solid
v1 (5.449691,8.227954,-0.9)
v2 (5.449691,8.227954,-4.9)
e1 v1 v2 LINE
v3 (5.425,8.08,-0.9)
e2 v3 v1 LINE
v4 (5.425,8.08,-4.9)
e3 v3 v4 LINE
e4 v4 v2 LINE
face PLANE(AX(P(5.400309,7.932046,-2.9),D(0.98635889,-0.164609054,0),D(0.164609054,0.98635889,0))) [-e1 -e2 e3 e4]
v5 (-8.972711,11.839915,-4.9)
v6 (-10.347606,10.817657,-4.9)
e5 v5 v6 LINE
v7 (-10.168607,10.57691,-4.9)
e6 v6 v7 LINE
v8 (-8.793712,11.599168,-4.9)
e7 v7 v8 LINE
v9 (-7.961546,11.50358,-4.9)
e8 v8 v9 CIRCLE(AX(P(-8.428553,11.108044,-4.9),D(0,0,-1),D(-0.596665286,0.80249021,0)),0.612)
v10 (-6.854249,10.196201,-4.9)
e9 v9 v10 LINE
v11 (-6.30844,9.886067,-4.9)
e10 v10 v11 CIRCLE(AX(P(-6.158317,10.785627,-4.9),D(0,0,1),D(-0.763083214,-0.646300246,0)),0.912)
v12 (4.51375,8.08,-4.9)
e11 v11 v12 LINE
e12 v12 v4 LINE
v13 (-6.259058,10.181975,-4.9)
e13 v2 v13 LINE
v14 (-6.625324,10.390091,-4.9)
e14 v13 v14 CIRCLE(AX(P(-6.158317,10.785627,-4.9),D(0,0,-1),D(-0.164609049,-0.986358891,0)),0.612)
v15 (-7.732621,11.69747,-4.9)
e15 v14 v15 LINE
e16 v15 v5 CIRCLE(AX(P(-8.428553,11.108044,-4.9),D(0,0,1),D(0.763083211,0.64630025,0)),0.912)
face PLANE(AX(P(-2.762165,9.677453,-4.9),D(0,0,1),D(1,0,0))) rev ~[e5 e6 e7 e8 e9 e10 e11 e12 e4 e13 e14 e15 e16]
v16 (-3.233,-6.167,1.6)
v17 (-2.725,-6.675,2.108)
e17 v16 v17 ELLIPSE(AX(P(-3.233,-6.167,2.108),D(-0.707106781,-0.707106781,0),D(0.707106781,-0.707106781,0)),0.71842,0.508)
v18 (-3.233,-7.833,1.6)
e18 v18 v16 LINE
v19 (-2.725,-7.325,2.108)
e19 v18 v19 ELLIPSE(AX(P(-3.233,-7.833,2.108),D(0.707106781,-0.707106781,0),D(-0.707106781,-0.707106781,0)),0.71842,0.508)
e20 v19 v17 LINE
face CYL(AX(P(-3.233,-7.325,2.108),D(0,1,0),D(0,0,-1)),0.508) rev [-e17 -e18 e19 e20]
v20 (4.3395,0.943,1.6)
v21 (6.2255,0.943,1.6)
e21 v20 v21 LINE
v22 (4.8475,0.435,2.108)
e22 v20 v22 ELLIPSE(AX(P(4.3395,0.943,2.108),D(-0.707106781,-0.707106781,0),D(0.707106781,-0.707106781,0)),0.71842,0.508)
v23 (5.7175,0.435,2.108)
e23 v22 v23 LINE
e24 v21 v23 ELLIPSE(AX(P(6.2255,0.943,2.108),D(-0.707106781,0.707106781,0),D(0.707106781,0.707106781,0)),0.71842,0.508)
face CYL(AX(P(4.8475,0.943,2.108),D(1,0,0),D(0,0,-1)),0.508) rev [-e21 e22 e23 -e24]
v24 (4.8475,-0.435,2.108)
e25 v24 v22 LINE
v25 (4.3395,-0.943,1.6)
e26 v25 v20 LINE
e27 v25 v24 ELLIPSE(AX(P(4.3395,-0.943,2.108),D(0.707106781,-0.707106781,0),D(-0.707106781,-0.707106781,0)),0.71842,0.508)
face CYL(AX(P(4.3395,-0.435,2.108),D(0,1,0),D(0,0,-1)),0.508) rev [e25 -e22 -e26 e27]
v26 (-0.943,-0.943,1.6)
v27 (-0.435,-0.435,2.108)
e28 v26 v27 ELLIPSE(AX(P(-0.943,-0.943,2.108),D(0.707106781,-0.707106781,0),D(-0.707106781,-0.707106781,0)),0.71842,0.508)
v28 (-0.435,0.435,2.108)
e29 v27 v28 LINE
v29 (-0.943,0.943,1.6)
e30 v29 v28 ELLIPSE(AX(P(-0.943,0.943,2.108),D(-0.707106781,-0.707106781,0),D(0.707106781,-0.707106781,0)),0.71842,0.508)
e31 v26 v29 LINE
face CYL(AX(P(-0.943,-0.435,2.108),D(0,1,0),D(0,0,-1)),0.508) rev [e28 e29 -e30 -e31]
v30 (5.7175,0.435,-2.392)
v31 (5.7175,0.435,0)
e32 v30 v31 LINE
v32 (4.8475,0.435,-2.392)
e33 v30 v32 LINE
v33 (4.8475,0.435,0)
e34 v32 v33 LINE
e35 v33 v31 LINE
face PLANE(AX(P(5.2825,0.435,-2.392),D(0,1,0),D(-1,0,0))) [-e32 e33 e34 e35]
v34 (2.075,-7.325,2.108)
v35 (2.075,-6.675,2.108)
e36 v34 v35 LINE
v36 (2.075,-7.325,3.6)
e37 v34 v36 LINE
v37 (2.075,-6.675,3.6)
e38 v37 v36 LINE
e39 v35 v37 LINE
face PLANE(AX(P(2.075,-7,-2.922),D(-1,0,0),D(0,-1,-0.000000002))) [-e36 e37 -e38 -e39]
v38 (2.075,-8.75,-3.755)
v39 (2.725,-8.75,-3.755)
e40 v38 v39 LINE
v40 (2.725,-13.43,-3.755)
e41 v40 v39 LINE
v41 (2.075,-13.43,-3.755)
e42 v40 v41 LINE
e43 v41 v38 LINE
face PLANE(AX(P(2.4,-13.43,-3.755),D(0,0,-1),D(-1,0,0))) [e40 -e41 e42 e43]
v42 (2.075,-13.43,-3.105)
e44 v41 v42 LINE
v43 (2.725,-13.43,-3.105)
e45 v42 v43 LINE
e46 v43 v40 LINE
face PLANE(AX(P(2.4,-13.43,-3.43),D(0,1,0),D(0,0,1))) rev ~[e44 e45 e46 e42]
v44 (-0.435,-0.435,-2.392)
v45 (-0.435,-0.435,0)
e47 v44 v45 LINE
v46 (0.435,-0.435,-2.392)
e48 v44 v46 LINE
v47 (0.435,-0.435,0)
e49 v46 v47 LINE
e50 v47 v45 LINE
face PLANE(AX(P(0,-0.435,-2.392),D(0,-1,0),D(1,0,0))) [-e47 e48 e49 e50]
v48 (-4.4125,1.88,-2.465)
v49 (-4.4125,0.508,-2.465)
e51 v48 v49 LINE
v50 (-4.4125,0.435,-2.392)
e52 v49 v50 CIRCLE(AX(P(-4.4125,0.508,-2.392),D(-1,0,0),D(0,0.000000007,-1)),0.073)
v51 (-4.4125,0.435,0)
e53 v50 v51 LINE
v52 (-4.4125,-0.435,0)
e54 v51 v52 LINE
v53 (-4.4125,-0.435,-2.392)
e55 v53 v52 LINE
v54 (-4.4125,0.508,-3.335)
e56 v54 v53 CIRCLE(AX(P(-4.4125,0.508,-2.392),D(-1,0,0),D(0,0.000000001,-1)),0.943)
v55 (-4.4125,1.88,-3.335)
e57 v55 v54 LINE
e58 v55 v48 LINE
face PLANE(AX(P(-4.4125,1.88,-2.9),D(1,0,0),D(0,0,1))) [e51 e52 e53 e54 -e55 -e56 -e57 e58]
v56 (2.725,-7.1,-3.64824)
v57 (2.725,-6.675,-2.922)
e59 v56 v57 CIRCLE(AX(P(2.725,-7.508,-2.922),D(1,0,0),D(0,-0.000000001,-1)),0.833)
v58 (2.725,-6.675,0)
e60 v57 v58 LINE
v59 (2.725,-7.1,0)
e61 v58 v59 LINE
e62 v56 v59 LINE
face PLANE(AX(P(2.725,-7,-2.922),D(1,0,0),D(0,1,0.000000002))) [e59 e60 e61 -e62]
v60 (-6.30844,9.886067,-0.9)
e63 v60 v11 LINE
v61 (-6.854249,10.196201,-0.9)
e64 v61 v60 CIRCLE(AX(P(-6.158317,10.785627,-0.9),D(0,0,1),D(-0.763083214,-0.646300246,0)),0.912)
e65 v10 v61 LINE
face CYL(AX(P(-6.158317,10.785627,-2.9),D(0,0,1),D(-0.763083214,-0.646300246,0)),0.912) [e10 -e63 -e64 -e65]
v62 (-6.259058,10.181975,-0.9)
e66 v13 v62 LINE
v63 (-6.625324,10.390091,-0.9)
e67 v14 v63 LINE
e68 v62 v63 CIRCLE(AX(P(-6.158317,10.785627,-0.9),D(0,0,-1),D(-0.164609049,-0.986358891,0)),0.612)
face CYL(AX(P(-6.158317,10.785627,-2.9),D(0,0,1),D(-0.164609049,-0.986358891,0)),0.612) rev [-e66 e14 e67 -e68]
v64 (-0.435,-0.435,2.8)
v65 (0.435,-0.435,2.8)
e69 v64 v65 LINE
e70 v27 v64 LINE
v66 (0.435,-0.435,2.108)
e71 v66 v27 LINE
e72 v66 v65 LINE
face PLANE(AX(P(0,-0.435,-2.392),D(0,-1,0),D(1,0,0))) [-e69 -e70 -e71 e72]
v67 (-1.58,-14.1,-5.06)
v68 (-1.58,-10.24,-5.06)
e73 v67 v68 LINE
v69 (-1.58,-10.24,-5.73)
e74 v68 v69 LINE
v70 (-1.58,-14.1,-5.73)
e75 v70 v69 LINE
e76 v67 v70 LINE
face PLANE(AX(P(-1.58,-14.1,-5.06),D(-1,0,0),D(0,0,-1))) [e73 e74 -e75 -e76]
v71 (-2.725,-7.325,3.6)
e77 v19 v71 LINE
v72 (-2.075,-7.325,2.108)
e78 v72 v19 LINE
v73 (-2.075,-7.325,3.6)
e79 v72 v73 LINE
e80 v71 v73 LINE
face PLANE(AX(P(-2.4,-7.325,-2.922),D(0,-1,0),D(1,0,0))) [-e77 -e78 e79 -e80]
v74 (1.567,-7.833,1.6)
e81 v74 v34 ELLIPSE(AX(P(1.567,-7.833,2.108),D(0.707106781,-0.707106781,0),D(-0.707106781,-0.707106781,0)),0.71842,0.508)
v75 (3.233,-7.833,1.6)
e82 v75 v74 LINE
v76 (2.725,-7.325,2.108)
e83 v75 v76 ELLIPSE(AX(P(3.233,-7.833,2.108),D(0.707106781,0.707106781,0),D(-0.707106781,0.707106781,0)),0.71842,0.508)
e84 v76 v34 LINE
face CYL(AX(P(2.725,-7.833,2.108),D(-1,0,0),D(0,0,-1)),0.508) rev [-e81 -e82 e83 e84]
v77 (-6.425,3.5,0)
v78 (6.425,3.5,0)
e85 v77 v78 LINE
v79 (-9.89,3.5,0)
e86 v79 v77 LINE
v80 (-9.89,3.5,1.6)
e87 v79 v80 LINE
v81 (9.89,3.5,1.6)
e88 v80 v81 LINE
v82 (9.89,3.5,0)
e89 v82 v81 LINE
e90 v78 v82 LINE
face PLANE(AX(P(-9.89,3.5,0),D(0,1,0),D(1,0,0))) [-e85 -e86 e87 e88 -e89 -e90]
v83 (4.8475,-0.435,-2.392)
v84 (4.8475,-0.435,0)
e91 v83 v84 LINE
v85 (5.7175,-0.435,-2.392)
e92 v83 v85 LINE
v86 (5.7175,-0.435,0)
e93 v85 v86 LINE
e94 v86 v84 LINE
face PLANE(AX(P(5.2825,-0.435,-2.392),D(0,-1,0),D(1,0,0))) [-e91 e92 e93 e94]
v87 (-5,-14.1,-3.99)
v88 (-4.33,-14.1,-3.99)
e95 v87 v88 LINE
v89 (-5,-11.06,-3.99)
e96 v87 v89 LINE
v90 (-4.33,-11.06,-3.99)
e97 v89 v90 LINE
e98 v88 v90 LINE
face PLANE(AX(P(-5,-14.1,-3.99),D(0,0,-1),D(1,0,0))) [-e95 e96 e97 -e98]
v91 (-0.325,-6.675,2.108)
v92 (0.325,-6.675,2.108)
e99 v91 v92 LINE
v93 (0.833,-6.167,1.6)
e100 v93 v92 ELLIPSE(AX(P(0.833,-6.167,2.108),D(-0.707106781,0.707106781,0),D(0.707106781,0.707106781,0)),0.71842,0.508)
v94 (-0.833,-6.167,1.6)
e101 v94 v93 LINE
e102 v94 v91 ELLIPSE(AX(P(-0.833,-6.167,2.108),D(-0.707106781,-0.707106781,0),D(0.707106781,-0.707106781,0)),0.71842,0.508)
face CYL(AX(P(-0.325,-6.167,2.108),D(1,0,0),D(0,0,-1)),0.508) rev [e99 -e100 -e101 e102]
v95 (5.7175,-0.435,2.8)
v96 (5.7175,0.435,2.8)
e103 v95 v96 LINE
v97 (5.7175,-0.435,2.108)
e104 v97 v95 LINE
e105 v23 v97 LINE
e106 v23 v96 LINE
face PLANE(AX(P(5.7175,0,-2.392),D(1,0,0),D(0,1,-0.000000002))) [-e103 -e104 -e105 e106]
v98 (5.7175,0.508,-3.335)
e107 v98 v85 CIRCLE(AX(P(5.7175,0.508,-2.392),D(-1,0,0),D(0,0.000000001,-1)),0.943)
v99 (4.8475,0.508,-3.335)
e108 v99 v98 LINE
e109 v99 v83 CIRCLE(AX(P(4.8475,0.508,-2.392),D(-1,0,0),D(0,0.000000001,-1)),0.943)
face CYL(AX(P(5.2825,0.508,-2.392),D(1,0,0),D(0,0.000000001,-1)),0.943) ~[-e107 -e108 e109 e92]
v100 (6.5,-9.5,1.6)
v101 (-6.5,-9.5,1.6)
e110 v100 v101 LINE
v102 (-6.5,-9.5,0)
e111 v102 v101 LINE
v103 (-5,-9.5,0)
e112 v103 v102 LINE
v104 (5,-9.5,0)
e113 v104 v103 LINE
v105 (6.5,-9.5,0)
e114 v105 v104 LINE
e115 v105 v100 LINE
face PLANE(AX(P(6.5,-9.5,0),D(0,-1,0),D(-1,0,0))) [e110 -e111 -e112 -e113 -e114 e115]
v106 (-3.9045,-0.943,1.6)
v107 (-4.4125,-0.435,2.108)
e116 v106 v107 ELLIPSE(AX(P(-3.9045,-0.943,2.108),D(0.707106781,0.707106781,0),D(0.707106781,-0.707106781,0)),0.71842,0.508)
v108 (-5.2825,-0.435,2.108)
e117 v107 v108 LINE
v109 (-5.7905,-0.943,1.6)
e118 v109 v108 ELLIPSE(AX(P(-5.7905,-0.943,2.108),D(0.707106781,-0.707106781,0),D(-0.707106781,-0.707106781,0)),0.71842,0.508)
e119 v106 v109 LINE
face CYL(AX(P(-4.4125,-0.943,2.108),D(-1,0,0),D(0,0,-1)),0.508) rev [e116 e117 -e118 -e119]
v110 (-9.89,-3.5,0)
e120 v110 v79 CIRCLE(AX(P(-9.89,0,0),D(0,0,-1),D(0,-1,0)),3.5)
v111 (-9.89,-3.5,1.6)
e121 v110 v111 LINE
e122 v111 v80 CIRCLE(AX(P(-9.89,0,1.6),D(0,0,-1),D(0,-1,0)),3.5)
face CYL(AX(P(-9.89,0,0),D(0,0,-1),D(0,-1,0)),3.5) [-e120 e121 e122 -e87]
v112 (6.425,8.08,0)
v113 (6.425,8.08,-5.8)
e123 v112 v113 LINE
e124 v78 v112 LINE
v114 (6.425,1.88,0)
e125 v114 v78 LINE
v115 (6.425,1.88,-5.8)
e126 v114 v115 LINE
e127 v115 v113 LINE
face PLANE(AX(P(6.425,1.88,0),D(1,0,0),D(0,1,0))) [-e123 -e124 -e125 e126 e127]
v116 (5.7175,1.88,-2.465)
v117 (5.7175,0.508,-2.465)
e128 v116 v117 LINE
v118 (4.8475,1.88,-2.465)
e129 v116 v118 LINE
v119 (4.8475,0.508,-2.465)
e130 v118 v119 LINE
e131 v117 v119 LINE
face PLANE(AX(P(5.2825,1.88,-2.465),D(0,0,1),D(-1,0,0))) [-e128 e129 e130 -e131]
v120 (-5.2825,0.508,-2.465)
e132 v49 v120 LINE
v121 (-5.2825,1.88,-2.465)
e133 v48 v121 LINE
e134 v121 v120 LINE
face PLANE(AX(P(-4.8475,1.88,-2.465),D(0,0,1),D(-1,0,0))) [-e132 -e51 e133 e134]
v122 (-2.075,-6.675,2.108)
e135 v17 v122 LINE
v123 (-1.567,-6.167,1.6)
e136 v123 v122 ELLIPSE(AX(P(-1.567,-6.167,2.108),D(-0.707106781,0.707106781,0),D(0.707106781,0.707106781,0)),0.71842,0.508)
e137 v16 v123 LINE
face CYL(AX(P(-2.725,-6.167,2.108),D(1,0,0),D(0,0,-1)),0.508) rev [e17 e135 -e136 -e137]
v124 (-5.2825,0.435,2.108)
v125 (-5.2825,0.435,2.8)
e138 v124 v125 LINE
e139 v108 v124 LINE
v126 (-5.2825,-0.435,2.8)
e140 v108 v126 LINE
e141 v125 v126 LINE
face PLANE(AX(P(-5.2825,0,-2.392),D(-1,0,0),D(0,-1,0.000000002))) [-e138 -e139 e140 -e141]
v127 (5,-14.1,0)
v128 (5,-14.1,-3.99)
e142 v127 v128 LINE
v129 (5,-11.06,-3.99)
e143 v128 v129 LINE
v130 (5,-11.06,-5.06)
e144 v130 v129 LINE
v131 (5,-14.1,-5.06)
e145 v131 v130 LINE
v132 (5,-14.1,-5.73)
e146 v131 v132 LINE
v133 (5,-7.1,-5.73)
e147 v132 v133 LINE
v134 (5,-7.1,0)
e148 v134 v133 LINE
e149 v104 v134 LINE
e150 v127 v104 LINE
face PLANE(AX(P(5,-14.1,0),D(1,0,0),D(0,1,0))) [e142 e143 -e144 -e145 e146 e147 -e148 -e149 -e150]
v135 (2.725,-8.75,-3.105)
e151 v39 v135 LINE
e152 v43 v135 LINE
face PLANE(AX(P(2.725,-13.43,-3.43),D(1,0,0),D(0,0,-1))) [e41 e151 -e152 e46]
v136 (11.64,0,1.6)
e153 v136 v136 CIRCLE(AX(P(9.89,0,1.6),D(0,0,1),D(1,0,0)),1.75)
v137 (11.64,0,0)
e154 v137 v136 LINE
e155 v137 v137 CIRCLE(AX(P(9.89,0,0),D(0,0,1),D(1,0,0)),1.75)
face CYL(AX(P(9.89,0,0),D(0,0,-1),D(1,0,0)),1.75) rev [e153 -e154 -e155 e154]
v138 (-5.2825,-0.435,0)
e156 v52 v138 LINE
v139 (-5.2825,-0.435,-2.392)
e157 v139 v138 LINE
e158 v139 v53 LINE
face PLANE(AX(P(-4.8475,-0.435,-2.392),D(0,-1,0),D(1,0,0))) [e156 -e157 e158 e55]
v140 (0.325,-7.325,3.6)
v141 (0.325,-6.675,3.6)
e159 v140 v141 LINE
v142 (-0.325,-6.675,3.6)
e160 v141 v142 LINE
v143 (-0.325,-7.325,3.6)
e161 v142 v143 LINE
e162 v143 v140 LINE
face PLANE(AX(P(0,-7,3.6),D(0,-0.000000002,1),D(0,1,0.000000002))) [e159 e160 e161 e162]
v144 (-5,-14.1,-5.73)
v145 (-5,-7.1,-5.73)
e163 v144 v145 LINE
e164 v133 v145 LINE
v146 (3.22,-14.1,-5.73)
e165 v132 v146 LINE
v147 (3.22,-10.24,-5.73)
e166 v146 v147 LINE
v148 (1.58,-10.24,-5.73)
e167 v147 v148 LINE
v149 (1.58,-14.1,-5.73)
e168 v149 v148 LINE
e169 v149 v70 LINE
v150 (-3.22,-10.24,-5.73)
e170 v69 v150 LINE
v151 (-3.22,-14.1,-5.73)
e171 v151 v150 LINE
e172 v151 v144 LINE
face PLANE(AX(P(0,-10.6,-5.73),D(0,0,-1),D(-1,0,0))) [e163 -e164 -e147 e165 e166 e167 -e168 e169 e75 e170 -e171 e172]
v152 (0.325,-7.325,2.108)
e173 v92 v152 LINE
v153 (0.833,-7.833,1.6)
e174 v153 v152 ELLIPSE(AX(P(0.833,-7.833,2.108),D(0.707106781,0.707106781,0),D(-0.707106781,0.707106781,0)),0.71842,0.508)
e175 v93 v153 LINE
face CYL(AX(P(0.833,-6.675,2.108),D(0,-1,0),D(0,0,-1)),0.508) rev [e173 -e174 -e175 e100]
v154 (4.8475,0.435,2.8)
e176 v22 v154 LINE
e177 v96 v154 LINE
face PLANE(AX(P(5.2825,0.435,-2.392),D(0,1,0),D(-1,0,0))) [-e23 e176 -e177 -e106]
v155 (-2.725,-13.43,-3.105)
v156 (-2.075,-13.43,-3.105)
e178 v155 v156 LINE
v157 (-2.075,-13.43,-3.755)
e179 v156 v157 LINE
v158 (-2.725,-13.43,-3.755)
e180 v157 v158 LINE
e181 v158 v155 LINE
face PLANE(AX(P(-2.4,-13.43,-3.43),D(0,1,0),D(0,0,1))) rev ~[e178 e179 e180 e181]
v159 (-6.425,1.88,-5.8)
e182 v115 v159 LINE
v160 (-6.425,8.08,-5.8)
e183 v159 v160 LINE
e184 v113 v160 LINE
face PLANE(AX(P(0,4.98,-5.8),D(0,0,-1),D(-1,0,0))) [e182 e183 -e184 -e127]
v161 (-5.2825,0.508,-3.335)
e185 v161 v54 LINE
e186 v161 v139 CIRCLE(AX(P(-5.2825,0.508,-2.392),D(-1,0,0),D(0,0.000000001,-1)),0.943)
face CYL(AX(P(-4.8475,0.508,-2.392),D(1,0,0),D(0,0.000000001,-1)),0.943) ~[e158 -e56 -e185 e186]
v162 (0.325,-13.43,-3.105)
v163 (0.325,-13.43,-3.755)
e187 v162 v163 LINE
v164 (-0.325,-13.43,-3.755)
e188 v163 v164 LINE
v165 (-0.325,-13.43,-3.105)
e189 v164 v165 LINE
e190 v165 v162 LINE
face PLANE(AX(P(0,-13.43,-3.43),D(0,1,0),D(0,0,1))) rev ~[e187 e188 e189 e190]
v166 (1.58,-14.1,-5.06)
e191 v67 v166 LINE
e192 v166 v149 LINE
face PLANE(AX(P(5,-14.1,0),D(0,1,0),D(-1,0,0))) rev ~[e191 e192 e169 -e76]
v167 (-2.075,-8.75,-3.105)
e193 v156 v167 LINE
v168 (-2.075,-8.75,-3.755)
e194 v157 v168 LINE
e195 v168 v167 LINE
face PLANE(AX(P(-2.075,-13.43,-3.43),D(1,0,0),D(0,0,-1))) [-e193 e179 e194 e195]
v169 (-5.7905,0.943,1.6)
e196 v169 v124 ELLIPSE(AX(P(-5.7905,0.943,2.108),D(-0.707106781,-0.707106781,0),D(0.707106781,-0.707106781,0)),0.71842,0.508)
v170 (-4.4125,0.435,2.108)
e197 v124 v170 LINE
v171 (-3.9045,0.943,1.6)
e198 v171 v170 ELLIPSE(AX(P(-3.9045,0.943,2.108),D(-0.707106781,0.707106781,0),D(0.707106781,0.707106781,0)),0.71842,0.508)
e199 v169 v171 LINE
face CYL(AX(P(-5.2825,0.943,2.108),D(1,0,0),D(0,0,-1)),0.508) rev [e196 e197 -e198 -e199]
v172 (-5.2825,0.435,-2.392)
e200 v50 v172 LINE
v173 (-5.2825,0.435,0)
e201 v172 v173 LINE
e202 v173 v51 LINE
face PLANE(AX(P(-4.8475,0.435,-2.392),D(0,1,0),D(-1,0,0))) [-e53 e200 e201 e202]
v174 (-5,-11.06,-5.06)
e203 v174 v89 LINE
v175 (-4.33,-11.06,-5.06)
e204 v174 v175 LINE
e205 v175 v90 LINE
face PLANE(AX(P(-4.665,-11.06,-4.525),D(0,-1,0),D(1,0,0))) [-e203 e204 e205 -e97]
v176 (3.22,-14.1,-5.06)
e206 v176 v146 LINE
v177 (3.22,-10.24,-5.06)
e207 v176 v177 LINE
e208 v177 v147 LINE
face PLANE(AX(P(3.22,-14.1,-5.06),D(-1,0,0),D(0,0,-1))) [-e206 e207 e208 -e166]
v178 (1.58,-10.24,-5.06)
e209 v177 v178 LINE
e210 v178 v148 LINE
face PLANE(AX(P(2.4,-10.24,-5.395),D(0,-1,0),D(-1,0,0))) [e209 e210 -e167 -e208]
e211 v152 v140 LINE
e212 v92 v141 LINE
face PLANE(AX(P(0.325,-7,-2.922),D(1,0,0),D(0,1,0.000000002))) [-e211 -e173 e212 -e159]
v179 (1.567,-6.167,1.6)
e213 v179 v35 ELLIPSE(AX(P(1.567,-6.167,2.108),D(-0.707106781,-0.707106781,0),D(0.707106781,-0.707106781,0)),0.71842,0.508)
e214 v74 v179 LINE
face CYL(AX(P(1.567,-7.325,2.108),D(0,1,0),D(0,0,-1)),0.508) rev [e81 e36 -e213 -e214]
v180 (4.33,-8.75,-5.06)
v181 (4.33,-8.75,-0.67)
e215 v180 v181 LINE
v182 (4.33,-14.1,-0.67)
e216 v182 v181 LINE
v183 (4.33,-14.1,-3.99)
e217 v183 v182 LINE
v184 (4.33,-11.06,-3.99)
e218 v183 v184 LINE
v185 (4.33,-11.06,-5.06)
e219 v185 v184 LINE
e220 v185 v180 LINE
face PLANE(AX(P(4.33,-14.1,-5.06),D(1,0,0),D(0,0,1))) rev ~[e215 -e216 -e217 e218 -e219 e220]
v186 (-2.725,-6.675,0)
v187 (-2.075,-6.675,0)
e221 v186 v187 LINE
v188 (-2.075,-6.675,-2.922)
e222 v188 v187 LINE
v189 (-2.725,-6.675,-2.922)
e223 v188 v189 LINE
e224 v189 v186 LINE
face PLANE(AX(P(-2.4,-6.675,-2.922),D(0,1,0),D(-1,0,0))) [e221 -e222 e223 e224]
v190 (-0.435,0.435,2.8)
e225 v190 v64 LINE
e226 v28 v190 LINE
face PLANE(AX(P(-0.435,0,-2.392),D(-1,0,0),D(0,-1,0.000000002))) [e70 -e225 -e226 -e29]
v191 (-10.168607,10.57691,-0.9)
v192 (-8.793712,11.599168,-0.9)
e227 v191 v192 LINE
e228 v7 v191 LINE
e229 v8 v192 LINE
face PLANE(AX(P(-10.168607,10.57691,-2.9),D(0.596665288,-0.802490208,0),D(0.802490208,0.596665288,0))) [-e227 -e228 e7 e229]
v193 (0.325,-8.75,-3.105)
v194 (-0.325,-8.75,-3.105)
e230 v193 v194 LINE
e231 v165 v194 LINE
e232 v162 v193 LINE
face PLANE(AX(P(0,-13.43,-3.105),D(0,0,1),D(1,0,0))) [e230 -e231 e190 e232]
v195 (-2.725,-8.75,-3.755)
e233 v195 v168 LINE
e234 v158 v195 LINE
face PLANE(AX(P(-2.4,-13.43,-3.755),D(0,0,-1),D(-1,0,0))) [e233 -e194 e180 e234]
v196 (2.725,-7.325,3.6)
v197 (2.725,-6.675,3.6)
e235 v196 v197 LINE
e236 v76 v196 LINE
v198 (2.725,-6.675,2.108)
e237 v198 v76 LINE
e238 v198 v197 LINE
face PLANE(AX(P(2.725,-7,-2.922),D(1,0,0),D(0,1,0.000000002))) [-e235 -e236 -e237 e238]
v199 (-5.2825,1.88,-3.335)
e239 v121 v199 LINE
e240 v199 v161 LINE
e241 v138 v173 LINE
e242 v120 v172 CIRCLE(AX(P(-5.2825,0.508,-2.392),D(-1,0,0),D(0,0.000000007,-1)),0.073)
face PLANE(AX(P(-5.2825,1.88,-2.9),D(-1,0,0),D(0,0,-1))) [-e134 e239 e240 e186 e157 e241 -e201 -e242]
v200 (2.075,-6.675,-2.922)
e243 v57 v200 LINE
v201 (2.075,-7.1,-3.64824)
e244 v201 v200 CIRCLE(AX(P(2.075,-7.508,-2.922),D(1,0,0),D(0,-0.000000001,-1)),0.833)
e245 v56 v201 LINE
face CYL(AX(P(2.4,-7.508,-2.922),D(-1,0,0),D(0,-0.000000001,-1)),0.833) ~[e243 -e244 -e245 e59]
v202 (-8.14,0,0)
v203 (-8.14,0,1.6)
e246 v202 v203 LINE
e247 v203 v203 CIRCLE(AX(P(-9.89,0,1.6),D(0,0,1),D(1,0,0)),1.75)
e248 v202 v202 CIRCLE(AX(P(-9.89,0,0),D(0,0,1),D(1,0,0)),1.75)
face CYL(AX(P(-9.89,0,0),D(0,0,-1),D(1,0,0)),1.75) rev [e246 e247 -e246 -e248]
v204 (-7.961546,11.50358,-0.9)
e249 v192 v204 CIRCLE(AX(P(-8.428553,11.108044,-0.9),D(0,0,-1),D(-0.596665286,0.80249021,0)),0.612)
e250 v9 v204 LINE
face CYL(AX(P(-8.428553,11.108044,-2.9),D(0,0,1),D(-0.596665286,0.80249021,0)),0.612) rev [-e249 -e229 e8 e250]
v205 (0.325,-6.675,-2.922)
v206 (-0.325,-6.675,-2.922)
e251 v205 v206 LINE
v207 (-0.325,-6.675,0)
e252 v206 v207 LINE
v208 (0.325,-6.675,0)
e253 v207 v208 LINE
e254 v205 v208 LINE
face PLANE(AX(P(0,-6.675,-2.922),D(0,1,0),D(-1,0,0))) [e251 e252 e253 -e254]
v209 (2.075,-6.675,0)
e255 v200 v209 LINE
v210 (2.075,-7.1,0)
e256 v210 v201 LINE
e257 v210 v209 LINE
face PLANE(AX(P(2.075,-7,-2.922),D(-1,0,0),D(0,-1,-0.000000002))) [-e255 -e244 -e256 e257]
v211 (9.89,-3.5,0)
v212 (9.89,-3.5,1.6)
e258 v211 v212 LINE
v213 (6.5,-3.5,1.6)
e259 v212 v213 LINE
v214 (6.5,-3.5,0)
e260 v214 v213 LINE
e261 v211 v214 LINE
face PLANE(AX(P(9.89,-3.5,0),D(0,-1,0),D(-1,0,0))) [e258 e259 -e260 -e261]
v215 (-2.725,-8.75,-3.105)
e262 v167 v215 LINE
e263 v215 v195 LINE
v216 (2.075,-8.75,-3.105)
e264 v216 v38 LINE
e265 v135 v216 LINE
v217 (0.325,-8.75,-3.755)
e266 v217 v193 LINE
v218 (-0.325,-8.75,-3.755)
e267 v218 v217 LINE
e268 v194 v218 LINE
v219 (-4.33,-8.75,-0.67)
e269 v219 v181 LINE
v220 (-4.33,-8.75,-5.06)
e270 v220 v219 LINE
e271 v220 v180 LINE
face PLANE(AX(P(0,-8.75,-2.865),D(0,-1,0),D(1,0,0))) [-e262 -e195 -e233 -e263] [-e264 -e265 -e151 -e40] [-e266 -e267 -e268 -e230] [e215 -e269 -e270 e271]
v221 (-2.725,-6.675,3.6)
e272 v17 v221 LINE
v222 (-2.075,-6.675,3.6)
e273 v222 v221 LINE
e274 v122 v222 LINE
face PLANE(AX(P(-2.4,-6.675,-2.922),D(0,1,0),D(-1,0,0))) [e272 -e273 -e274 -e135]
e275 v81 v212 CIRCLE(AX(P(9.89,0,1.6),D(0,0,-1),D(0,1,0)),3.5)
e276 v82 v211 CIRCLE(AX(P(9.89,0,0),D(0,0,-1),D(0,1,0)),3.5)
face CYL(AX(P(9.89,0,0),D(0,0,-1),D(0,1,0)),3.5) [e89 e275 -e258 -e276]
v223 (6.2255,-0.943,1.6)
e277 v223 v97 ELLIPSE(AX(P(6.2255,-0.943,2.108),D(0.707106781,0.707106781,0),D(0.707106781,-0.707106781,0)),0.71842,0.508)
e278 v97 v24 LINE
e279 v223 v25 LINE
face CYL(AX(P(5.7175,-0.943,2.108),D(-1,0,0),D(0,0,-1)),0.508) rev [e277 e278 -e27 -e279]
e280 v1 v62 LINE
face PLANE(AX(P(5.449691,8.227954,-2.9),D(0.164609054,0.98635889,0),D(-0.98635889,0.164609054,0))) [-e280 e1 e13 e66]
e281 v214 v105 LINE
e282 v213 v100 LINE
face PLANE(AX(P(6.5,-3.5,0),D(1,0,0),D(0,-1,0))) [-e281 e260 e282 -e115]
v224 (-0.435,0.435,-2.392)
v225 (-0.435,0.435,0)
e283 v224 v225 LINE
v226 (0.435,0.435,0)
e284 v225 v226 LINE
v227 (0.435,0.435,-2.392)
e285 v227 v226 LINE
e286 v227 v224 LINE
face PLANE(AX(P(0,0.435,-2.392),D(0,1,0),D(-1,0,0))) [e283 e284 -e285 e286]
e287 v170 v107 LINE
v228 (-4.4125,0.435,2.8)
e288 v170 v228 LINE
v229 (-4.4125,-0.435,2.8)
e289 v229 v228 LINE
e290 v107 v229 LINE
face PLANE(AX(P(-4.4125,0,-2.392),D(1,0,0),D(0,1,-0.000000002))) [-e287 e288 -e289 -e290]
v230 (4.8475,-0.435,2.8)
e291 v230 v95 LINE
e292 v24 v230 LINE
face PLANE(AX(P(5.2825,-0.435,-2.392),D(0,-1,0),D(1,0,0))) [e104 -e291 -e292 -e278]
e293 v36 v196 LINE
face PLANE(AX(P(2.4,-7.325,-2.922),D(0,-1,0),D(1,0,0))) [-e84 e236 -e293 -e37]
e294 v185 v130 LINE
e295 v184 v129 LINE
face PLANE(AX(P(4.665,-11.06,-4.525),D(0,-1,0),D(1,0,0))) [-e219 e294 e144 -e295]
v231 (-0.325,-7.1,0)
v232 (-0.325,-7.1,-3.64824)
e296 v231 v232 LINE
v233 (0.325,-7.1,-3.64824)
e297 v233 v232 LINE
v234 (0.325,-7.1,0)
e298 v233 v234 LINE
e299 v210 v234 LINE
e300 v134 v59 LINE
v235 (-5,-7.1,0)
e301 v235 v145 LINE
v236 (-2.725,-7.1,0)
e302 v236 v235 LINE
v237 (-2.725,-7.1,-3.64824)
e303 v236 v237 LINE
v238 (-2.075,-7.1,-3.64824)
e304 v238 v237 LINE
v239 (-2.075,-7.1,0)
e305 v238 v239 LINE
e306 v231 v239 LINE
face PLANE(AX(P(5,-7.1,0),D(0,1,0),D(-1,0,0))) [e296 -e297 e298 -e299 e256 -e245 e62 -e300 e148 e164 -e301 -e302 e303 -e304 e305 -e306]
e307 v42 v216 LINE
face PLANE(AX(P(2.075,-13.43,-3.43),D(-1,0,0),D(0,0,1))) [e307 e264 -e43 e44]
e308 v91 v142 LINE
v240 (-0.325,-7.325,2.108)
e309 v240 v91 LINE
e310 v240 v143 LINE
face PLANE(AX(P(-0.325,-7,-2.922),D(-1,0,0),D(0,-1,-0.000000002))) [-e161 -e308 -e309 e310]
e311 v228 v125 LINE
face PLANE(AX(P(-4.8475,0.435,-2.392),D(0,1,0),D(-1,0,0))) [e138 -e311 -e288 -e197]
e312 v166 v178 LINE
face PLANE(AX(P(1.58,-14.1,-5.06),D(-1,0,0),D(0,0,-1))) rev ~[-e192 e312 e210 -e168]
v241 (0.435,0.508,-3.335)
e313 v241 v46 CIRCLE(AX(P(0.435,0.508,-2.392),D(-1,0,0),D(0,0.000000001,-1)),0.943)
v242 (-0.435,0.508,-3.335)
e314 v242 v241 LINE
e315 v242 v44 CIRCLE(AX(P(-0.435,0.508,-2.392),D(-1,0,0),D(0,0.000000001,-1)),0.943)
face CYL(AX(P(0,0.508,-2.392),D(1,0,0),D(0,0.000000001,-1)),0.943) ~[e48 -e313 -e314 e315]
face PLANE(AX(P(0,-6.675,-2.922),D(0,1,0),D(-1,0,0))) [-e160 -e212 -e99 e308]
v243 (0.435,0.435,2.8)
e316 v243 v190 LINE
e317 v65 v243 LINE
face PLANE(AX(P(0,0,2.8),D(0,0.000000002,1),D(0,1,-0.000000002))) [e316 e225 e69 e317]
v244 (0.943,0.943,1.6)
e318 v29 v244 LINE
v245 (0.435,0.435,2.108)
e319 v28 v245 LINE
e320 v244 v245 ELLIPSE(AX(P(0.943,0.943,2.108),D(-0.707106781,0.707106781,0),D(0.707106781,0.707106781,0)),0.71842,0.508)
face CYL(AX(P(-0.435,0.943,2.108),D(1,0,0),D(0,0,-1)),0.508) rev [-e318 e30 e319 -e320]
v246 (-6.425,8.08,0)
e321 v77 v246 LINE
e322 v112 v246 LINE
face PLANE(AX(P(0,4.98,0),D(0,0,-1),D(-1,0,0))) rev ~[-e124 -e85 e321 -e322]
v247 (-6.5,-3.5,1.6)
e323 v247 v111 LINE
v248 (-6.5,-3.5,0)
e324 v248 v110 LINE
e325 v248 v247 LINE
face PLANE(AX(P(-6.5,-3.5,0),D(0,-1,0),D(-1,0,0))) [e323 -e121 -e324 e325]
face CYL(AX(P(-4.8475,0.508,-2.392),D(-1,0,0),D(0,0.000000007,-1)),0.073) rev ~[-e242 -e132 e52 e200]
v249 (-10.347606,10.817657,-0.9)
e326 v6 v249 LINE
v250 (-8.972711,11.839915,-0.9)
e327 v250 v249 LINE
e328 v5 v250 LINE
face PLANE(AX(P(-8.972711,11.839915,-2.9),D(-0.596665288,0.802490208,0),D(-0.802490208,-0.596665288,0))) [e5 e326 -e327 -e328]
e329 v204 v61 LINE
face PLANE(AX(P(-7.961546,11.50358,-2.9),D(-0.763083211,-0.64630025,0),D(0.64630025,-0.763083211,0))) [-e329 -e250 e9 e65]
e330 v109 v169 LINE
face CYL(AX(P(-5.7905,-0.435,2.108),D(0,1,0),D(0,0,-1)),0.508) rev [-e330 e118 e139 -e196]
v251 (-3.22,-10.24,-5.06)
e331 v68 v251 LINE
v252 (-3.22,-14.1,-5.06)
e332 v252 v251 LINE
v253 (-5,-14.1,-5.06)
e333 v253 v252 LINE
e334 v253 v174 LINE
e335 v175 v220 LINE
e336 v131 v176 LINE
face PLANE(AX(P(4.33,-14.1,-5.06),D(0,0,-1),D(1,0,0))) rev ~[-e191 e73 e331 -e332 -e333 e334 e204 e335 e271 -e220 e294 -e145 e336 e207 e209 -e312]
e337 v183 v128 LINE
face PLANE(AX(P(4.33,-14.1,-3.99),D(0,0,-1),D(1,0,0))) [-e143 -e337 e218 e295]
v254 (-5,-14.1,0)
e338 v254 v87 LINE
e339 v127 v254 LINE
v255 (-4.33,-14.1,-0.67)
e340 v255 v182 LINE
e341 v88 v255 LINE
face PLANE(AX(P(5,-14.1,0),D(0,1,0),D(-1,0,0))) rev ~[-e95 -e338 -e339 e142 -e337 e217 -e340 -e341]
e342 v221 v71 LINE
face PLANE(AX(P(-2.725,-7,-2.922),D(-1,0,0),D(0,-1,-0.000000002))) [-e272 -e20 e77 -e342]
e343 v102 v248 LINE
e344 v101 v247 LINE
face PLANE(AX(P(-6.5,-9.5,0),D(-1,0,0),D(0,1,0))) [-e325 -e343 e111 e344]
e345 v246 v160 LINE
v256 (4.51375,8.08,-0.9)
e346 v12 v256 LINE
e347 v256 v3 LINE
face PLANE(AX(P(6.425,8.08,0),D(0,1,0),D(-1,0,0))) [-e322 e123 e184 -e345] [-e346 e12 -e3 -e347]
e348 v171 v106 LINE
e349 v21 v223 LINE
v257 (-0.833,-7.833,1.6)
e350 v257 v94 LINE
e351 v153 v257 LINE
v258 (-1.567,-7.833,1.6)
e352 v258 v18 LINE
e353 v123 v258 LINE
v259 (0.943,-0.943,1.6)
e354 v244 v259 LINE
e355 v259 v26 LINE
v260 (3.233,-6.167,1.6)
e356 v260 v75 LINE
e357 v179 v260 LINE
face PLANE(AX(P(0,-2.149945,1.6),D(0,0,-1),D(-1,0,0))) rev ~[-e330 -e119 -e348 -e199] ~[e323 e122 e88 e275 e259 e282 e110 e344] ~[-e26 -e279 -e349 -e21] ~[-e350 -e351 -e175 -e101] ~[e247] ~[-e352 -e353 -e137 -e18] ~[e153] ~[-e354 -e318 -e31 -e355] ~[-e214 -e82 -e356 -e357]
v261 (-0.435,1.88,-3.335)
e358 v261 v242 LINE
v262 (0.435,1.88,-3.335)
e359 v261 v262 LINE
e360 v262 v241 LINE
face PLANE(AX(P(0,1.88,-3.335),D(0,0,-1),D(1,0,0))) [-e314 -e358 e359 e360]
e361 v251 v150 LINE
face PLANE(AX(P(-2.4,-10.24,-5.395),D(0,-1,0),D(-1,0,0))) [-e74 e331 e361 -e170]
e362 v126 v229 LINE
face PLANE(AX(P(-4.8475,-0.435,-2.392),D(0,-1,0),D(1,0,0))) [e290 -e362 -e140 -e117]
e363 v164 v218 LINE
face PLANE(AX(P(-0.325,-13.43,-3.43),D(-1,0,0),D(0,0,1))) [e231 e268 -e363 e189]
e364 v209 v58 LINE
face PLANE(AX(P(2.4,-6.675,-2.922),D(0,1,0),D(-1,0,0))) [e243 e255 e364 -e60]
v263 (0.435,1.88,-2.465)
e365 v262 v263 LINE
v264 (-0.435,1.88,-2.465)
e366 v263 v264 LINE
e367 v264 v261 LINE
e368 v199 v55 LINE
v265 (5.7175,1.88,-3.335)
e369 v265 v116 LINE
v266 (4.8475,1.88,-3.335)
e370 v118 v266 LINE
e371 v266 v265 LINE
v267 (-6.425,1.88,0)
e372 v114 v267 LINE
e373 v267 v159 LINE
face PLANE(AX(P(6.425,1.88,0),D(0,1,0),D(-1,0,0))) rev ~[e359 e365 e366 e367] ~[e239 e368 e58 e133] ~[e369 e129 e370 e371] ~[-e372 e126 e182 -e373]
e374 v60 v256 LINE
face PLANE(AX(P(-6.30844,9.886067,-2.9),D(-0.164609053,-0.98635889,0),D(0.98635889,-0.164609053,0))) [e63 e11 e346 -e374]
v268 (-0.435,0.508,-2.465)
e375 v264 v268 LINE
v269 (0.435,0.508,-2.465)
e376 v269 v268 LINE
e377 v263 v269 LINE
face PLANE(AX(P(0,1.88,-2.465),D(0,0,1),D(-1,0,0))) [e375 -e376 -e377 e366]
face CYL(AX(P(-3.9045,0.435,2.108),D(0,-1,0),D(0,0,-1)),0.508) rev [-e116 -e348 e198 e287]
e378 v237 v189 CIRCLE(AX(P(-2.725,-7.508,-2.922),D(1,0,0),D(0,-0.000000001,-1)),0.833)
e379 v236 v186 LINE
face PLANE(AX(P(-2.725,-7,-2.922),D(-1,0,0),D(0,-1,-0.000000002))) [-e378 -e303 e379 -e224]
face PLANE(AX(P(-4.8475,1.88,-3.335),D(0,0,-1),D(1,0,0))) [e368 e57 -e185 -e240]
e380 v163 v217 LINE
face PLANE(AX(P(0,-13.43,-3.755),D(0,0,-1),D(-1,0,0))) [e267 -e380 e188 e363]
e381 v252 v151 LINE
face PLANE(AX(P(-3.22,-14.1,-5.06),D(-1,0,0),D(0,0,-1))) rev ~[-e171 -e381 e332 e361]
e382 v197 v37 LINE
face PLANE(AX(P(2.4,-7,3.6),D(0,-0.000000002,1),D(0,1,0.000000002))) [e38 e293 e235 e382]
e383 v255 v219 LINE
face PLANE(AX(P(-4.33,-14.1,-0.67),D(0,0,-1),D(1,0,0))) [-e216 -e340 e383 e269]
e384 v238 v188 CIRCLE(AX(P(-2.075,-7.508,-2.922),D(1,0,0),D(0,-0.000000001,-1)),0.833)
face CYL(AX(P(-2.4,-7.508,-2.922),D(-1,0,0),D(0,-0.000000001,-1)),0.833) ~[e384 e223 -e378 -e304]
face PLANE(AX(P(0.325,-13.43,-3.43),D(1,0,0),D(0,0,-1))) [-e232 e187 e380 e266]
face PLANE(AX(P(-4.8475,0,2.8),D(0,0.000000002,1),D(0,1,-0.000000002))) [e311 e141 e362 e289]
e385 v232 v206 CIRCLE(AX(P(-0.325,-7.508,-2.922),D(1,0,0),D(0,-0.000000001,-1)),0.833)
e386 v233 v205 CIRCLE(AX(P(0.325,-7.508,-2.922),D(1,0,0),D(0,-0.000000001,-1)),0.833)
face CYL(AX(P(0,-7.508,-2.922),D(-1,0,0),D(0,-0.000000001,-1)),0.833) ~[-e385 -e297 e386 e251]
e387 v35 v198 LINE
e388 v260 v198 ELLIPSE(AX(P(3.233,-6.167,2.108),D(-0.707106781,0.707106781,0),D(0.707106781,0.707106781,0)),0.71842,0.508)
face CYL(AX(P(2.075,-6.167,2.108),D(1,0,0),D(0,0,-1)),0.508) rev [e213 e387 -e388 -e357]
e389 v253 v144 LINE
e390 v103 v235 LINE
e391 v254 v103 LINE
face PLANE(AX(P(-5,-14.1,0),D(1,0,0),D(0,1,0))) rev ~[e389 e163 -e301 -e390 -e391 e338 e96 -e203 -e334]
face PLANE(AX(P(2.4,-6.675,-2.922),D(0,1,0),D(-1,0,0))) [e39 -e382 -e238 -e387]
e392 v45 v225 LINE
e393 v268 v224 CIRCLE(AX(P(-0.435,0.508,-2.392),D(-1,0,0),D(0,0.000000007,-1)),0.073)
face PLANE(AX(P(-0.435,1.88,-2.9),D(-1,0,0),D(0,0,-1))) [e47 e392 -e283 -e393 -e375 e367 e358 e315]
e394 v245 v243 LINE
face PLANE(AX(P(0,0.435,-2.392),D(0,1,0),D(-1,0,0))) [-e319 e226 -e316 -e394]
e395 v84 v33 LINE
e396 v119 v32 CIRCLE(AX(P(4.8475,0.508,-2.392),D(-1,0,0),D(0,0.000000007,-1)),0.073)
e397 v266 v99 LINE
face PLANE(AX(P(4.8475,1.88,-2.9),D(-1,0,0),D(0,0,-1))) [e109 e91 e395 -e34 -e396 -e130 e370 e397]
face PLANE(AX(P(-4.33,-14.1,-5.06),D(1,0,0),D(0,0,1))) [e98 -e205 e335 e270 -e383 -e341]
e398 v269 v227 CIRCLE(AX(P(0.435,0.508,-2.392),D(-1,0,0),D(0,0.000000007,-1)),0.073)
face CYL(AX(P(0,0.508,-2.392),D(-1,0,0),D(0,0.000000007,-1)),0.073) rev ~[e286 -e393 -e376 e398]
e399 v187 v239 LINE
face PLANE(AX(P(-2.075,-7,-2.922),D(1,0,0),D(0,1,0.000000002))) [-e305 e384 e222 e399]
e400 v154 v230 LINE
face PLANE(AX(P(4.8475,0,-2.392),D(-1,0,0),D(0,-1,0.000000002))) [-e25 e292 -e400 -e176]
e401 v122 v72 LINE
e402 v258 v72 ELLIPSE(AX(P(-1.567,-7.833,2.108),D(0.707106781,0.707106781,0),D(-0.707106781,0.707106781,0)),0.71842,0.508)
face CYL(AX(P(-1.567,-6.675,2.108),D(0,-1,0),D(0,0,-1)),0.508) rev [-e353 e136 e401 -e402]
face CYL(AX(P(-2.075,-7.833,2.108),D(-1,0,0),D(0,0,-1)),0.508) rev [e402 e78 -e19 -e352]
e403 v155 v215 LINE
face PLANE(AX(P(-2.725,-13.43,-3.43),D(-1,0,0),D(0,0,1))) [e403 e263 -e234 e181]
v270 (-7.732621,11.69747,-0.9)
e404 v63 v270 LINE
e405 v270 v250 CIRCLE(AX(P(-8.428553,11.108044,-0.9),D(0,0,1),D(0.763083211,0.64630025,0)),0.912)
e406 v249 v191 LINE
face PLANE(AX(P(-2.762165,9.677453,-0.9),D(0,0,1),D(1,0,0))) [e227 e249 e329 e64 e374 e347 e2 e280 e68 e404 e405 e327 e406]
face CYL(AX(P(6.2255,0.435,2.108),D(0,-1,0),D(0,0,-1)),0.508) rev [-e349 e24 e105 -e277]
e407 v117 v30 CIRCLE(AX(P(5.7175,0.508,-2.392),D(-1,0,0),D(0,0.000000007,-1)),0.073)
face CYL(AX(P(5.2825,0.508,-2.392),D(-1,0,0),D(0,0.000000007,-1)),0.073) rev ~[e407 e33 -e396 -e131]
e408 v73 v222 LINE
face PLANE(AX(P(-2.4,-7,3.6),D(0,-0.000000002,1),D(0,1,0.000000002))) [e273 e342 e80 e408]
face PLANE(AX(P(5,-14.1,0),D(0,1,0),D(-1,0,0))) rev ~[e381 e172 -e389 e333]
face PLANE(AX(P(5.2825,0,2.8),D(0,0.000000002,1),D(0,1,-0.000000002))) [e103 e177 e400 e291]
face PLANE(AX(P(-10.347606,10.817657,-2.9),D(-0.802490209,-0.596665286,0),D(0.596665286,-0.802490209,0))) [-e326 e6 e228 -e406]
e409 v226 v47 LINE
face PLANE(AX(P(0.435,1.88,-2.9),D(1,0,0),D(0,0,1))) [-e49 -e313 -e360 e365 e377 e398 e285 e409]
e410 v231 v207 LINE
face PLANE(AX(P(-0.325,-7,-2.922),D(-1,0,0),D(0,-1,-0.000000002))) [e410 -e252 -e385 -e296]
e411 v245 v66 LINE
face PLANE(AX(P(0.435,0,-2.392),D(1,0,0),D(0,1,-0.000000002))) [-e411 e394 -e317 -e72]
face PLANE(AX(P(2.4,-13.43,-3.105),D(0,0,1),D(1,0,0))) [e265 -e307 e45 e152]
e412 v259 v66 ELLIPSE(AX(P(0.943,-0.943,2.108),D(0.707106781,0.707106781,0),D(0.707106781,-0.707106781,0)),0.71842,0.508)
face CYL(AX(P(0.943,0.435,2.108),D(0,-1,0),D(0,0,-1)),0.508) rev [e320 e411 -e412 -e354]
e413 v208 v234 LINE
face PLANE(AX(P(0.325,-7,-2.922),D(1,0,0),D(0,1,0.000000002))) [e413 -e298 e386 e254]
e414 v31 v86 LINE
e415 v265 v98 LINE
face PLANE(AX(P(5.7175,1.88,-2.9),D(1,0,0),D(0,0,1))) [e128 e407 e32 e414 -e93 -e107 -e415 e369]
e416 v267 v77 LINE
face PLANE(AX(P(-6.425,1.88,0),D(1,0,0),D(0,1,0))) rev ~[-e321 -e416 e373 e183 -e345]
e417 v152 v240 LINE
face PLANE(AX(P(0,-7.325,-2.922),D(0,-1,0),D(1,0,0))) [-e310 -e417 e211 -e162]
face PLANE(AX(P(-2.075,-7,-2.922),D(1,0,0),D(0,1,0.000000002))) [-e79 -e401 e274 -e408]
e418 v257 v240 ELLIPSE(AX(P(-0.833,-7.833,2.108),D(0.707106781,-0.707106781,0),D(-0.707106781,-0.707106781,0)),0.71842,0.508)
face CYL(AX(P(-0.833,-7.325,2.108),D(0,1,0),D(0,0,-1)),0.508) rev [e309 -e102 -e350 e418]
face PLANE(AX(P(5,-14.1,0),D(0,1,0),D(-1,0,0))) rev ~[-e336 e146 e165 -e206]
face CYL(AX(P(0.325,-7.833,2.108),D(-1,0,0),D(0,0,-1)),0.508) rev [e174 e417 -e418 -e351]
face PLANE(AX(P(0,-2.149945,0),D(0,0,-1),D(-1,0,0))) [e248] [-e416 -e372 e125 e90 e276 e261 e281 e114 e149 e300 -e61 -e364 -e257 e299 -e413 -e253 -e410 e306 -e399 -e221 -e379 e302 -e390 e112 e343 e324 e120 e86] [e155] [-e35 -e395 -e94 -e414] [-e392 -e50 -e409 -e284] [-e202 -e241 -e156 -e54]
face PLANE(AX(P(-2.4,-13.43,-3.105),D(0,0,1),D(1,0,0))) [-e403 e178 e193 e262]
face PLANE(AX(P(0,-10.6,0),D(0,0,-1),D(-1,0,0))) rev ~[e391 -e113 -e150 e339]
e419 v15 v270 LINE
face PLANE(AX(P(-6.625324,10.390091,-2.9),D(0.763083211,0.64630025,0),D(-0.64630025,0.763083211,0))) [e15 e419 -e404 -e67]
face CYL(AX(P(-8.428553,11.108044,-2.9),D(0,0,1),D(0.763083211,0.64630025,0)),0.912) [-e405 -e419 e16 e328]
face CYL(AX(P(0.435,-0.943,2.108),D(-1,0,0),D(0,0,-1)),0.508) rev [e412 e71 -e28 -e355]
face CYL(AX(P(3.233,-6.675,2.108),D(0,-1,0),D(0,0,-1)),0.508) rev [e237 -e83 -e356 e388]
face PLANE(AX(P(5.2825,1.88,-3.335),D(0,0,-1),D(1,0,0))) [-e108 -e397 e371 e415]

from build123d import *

# Parameters (mm, degrees)
SKETCH1_R           = 1.75
BOSS_EXTRUDE1_DEPTH = 1.6
SKETCH2_W           = 12.85
SKETCH2_H           = 6.2
BOSS_EXTRUDE2_DEPTH = 5.8
BOSS_EXTRUDE3_DEPTH = 2
SKETCH4_W           = 0.87
SKETCH4_H           = 0.87
SKETCH6_W           = 10
SKETCH6_H           = 7
BOSS_EXTRUDE4_DEPTH = 5.73
SKETCH7_W           = 8.66
SKETCH7_H           = 4.39
CUT_EXTRUDE1_DEPTH  = 5.35
SKETCH8_W           = 1.64
SKETCH8_H           = 0.67
CUT_EXTRUDE2_DEPTH  = 3.86
SKETCH9_W           = 0.67
SKETCH9_H           = 1.07
CUT_EXTRUDE3_DEPTH  = 3.04
SKETCH11_W          = 0.65
SKETCH11_H          = 0.65
FILLET1_R           = 0.508


with BuildPart() as part:
    # Sketch1 → Boss-Extrude1 (new body)
    with BuildSketch(Plane.XY):
        with BuildLine():
            Line((-9.890000015, 3.499999985), (9.890000015, 3.499999985))
            ThreePointArc((9.890000015, 3.499999985), (13.39, 0), (9.890000015, -3.499999985))
            Line((9.890000015, -3.499999985), (6.5, -3.499999985))
            Line((6.5, -3.499999985), (6.5, -9.500000015))
            Line((6.5, -9.500000015), (-6.5, -9.500000015))
            Line((-6.5, -9.500000015), (-6.5, -3.499999985))
            Line((-6.5, -3.499999985), (-9.890000015, -3.499999985))
            ThreePointArc((-9.890000015, -3.499999985), (-13.39, 0), (-9.890000015, 3.499999985))
        make_face()
        with Locations((-9.890000015, 0)):
            Circle(SKETCH1_R, mode=Mode.SUBTRACT)
        with Locations((9.890000015, 0)):
            Circle(SKETCH1_R, mode=Mode.SUBTRACT)
    extrude(amount=BOSS_EXTRUDE1_DEPTH)

    # Sketch2 → Boss-Extrude2 (add)
    with BuildSketch(Plane(origin=(0, 0, 0), x_dir=(-1, 0, 0), z_dir=(0, 0, -1))):
        with Locations((0, 4.979999985)):
            Rectangle(SKETCH2_W, SKETCH2_H)
    extrude(amount=BOSS_EXTRUDE2_DEPTH)

    # Sketch3 → Boss-Extrude3 (add, symmetric)
    with BuildSketch(Plane.XY.offset(-2.9)):
        with BuildLine():
            Line((5.449691358, 8.227953818), (-6.259057602, 10.18197492))
            ThreePointArc((-6.259057602, 10.18197492), (-6.460661712, 10.25352545), (-6.625323786, 10.390090807))
            Line((-6.625323786, 10.390090807), (-7.732620651, 11.697470228))
            ThreePointArc((-7.732620651, 11.697470228), (-8.324478366, 12.014086654), (-8.972711282, 11.839915469))
            Line((-8.972711282, 11.839915469), (-10.347606141, 10.817657467))
            Line((-10.347606141, 10.817657467), (-10.168606555, 10.576910404))
            Line((-10.168606555, 10.576910404), (-8.793711695, 11.599168407))
            ThreePointArc((-8.793711695, 11.599168407), (-8.358713291, 11.716046438), (-7.961545614, 11.503580153))
            Line((-7.961545614, 11.503580153), (-6.854248749, 10.196200732))
            ThreePointArc((-6.854248749, 10.196200732), (-6.608869972, 9.992691572), (-6.308440318, 9.886067253))
            Line((-6.308440318, 9.886067253), (5.400308642, 7.932046152))
            Line((5.400308642, 7.932046152), (5.449691358, 8.227953818))
        make_face()
    extrude(amount=BOSS_EXTRUDE3_DEPTH, both=True)

    # Sweep3: sweep along a path in Sketch5
    with BuildLine(Plane(origin=(0, 0, 0), x_dir=(0, 0, -1), z_dir=(1, 0, 0))) as sweep3_path:
        Line((2.9, 1.879999985), (2.9, 0.508))
        ThreePointArc((2.9, 0.508), (2.751210245, 0.148789755), (2.392, 0))
        Line((2.392, 0), (-2.8, 0))
    # Sketch4 → Sweep3 (sweep)
    with BuildSketch(Plane.XZ.offset(-1.879999985)):
        with Locations((-4.8475, -2.9)):
            Rectangle(SKETCH4_W, SKETCH4_H)
        with Locations((0, -2.9)):
            Rectangle(SKETCH4_W, SKETCH4_H)
        with Locations((5.2825, -2.9)):
            Rectangle(SKETCH4_W, SKETCH4_H)
    sweep(path=sweep3_path.line)

    # Sketch6 → Boss-Extrude4 (add)
    with BuildSketch(Plane(origin=(0, 0, 0), x_dir=(-1, 0, 0), z_dir=(0, 0, -1))):
        with Locations((0, -10.600000015)):
            Rectangle(SKETCH6_W, SKETCH6_H)
    extrude(amount=BOSS_EXTRUDE4_DEPTH)

    # Sketch7 → Cut-Extrude1 (cut)
    with BuildSketch(Plane.XZ.offset(14.100000015)):
        with Locations((0, -2.865)):
            Rectangle(SKETCH7_W, SKETCH7_H)
    extrude(amount=-CUT_EXTRUDE1_DEPTH, mode=Mode.SUBTRACT)

    # Sketch8 → Cut-Extrude2 (cut)
    with BuildSketch(Plane(origin=(0, -14.100000015, 0), x_dir=(-1, 0, 0), z_dir=(0, -1, 0))):
        with Locations((2.4, 5.395)):
            Rectangle(SKETCH8_W, SKETCH8_H)
        with Locations((-2.4, 5.395)):
            Rectangle(SKETCH8_W, SKETCH8_H)
    extrude(amount=-CUT_EXTRUDE2_DEPTH, mode=Mode.SUBTRACT)

    # Sketch9 → Cut-Extrude3 (cut)
    with BuildSketch(Plane.XZ.offset(14.100000015)):
        with Locations((-4.665, -4.525)):
            Rectangle(SKETCH9_W, SKETCH9_H)
        with Locations((4.665, -4.525)):
            Rectangle(SKETCH9_W, SKETCH9_H)
    extrude(amount=-CUT_EXTRUDE3_DEPTH, mode=Mode.SUBTRACT)

    # Sweep4: sweep along a path in Sketch10
    with BuildLine(Plane(origin=(0, 0, 0), x_dir=(0, 0, -1), z_dir=(1, 0, 0))) as sweep4_path:
        Line((3.43, -13.430000015), (3.43, -7.508000015))
        ThreePointArc((3.43, -7.508000015), (3.281210245, -7.14878977), (2.922, -7.000000015))
        Line((2.922, -7.000000015), (-3.6, -7.000000015))
    # Sketch11 → Sweep4 (sweep)
    with BuildSketch(Plane(origin=(0, -13.430000015, 0), x_dir=(1, 0, 0), z_dir=(0, 1, 0))):
        with Locations((-2.4, 3.43)):
            Rectangle(SKETCH11_W, SKETCH11_H)
        with Locations((0, 3.43)):
            Rectangle(SKETCH11_W, SKETCH11_H)
        with Locations((2.4, 3.43)):
            Rectangle(SKETCH11_W, SKETCH11_H)
    sweep(path=sweep4_path.line)

    # Fillet1
    fillet1_edges = [part.edges().sort_by_distance(p)[0] for p in [
        (0, 0.435, 1.6),
        (0.435, 0, 1.6),
        (0, -0.435, 1.6),
        (-0.435, 0, 1.6),
        (5.2825, 0.435, 1.6),
        (5.7175, 0, 1.6),
        (5.2825, -0.435, 1.6),
        (4.8475, 0, 1.6),
        (-2.4, -6.675000015, 1.6),
        (-2.4, -7.325000015, 1.6),
        (-2.725, -7.000000015, 1.6),
        (-2.075, -7.000000015, 1.6),
        (0, -6.675000015, 1.6),
        (0, -7.325000015, 1.6),
        (-0.325, -7.000000015, 1.6),
        (0.325, -7.000000015, 1.6),
        (2.4, -6.675000015, 1.6),
        (2.4, -7.325000015, 1.6),
        (2.075, -7.000000015, 1.6),
        (2.725, -7.000000015, 1.6),
        (-4.8475, 0.435, 1.6),
        (-4.4125, 0, 1.6),
        (-4.8475, -0.435, 1.6),
        (-5.2825, 0, 1.6),
    ]]
    fillet(fillet1_edges, radius=FILLET1_R)


solid = part.part
